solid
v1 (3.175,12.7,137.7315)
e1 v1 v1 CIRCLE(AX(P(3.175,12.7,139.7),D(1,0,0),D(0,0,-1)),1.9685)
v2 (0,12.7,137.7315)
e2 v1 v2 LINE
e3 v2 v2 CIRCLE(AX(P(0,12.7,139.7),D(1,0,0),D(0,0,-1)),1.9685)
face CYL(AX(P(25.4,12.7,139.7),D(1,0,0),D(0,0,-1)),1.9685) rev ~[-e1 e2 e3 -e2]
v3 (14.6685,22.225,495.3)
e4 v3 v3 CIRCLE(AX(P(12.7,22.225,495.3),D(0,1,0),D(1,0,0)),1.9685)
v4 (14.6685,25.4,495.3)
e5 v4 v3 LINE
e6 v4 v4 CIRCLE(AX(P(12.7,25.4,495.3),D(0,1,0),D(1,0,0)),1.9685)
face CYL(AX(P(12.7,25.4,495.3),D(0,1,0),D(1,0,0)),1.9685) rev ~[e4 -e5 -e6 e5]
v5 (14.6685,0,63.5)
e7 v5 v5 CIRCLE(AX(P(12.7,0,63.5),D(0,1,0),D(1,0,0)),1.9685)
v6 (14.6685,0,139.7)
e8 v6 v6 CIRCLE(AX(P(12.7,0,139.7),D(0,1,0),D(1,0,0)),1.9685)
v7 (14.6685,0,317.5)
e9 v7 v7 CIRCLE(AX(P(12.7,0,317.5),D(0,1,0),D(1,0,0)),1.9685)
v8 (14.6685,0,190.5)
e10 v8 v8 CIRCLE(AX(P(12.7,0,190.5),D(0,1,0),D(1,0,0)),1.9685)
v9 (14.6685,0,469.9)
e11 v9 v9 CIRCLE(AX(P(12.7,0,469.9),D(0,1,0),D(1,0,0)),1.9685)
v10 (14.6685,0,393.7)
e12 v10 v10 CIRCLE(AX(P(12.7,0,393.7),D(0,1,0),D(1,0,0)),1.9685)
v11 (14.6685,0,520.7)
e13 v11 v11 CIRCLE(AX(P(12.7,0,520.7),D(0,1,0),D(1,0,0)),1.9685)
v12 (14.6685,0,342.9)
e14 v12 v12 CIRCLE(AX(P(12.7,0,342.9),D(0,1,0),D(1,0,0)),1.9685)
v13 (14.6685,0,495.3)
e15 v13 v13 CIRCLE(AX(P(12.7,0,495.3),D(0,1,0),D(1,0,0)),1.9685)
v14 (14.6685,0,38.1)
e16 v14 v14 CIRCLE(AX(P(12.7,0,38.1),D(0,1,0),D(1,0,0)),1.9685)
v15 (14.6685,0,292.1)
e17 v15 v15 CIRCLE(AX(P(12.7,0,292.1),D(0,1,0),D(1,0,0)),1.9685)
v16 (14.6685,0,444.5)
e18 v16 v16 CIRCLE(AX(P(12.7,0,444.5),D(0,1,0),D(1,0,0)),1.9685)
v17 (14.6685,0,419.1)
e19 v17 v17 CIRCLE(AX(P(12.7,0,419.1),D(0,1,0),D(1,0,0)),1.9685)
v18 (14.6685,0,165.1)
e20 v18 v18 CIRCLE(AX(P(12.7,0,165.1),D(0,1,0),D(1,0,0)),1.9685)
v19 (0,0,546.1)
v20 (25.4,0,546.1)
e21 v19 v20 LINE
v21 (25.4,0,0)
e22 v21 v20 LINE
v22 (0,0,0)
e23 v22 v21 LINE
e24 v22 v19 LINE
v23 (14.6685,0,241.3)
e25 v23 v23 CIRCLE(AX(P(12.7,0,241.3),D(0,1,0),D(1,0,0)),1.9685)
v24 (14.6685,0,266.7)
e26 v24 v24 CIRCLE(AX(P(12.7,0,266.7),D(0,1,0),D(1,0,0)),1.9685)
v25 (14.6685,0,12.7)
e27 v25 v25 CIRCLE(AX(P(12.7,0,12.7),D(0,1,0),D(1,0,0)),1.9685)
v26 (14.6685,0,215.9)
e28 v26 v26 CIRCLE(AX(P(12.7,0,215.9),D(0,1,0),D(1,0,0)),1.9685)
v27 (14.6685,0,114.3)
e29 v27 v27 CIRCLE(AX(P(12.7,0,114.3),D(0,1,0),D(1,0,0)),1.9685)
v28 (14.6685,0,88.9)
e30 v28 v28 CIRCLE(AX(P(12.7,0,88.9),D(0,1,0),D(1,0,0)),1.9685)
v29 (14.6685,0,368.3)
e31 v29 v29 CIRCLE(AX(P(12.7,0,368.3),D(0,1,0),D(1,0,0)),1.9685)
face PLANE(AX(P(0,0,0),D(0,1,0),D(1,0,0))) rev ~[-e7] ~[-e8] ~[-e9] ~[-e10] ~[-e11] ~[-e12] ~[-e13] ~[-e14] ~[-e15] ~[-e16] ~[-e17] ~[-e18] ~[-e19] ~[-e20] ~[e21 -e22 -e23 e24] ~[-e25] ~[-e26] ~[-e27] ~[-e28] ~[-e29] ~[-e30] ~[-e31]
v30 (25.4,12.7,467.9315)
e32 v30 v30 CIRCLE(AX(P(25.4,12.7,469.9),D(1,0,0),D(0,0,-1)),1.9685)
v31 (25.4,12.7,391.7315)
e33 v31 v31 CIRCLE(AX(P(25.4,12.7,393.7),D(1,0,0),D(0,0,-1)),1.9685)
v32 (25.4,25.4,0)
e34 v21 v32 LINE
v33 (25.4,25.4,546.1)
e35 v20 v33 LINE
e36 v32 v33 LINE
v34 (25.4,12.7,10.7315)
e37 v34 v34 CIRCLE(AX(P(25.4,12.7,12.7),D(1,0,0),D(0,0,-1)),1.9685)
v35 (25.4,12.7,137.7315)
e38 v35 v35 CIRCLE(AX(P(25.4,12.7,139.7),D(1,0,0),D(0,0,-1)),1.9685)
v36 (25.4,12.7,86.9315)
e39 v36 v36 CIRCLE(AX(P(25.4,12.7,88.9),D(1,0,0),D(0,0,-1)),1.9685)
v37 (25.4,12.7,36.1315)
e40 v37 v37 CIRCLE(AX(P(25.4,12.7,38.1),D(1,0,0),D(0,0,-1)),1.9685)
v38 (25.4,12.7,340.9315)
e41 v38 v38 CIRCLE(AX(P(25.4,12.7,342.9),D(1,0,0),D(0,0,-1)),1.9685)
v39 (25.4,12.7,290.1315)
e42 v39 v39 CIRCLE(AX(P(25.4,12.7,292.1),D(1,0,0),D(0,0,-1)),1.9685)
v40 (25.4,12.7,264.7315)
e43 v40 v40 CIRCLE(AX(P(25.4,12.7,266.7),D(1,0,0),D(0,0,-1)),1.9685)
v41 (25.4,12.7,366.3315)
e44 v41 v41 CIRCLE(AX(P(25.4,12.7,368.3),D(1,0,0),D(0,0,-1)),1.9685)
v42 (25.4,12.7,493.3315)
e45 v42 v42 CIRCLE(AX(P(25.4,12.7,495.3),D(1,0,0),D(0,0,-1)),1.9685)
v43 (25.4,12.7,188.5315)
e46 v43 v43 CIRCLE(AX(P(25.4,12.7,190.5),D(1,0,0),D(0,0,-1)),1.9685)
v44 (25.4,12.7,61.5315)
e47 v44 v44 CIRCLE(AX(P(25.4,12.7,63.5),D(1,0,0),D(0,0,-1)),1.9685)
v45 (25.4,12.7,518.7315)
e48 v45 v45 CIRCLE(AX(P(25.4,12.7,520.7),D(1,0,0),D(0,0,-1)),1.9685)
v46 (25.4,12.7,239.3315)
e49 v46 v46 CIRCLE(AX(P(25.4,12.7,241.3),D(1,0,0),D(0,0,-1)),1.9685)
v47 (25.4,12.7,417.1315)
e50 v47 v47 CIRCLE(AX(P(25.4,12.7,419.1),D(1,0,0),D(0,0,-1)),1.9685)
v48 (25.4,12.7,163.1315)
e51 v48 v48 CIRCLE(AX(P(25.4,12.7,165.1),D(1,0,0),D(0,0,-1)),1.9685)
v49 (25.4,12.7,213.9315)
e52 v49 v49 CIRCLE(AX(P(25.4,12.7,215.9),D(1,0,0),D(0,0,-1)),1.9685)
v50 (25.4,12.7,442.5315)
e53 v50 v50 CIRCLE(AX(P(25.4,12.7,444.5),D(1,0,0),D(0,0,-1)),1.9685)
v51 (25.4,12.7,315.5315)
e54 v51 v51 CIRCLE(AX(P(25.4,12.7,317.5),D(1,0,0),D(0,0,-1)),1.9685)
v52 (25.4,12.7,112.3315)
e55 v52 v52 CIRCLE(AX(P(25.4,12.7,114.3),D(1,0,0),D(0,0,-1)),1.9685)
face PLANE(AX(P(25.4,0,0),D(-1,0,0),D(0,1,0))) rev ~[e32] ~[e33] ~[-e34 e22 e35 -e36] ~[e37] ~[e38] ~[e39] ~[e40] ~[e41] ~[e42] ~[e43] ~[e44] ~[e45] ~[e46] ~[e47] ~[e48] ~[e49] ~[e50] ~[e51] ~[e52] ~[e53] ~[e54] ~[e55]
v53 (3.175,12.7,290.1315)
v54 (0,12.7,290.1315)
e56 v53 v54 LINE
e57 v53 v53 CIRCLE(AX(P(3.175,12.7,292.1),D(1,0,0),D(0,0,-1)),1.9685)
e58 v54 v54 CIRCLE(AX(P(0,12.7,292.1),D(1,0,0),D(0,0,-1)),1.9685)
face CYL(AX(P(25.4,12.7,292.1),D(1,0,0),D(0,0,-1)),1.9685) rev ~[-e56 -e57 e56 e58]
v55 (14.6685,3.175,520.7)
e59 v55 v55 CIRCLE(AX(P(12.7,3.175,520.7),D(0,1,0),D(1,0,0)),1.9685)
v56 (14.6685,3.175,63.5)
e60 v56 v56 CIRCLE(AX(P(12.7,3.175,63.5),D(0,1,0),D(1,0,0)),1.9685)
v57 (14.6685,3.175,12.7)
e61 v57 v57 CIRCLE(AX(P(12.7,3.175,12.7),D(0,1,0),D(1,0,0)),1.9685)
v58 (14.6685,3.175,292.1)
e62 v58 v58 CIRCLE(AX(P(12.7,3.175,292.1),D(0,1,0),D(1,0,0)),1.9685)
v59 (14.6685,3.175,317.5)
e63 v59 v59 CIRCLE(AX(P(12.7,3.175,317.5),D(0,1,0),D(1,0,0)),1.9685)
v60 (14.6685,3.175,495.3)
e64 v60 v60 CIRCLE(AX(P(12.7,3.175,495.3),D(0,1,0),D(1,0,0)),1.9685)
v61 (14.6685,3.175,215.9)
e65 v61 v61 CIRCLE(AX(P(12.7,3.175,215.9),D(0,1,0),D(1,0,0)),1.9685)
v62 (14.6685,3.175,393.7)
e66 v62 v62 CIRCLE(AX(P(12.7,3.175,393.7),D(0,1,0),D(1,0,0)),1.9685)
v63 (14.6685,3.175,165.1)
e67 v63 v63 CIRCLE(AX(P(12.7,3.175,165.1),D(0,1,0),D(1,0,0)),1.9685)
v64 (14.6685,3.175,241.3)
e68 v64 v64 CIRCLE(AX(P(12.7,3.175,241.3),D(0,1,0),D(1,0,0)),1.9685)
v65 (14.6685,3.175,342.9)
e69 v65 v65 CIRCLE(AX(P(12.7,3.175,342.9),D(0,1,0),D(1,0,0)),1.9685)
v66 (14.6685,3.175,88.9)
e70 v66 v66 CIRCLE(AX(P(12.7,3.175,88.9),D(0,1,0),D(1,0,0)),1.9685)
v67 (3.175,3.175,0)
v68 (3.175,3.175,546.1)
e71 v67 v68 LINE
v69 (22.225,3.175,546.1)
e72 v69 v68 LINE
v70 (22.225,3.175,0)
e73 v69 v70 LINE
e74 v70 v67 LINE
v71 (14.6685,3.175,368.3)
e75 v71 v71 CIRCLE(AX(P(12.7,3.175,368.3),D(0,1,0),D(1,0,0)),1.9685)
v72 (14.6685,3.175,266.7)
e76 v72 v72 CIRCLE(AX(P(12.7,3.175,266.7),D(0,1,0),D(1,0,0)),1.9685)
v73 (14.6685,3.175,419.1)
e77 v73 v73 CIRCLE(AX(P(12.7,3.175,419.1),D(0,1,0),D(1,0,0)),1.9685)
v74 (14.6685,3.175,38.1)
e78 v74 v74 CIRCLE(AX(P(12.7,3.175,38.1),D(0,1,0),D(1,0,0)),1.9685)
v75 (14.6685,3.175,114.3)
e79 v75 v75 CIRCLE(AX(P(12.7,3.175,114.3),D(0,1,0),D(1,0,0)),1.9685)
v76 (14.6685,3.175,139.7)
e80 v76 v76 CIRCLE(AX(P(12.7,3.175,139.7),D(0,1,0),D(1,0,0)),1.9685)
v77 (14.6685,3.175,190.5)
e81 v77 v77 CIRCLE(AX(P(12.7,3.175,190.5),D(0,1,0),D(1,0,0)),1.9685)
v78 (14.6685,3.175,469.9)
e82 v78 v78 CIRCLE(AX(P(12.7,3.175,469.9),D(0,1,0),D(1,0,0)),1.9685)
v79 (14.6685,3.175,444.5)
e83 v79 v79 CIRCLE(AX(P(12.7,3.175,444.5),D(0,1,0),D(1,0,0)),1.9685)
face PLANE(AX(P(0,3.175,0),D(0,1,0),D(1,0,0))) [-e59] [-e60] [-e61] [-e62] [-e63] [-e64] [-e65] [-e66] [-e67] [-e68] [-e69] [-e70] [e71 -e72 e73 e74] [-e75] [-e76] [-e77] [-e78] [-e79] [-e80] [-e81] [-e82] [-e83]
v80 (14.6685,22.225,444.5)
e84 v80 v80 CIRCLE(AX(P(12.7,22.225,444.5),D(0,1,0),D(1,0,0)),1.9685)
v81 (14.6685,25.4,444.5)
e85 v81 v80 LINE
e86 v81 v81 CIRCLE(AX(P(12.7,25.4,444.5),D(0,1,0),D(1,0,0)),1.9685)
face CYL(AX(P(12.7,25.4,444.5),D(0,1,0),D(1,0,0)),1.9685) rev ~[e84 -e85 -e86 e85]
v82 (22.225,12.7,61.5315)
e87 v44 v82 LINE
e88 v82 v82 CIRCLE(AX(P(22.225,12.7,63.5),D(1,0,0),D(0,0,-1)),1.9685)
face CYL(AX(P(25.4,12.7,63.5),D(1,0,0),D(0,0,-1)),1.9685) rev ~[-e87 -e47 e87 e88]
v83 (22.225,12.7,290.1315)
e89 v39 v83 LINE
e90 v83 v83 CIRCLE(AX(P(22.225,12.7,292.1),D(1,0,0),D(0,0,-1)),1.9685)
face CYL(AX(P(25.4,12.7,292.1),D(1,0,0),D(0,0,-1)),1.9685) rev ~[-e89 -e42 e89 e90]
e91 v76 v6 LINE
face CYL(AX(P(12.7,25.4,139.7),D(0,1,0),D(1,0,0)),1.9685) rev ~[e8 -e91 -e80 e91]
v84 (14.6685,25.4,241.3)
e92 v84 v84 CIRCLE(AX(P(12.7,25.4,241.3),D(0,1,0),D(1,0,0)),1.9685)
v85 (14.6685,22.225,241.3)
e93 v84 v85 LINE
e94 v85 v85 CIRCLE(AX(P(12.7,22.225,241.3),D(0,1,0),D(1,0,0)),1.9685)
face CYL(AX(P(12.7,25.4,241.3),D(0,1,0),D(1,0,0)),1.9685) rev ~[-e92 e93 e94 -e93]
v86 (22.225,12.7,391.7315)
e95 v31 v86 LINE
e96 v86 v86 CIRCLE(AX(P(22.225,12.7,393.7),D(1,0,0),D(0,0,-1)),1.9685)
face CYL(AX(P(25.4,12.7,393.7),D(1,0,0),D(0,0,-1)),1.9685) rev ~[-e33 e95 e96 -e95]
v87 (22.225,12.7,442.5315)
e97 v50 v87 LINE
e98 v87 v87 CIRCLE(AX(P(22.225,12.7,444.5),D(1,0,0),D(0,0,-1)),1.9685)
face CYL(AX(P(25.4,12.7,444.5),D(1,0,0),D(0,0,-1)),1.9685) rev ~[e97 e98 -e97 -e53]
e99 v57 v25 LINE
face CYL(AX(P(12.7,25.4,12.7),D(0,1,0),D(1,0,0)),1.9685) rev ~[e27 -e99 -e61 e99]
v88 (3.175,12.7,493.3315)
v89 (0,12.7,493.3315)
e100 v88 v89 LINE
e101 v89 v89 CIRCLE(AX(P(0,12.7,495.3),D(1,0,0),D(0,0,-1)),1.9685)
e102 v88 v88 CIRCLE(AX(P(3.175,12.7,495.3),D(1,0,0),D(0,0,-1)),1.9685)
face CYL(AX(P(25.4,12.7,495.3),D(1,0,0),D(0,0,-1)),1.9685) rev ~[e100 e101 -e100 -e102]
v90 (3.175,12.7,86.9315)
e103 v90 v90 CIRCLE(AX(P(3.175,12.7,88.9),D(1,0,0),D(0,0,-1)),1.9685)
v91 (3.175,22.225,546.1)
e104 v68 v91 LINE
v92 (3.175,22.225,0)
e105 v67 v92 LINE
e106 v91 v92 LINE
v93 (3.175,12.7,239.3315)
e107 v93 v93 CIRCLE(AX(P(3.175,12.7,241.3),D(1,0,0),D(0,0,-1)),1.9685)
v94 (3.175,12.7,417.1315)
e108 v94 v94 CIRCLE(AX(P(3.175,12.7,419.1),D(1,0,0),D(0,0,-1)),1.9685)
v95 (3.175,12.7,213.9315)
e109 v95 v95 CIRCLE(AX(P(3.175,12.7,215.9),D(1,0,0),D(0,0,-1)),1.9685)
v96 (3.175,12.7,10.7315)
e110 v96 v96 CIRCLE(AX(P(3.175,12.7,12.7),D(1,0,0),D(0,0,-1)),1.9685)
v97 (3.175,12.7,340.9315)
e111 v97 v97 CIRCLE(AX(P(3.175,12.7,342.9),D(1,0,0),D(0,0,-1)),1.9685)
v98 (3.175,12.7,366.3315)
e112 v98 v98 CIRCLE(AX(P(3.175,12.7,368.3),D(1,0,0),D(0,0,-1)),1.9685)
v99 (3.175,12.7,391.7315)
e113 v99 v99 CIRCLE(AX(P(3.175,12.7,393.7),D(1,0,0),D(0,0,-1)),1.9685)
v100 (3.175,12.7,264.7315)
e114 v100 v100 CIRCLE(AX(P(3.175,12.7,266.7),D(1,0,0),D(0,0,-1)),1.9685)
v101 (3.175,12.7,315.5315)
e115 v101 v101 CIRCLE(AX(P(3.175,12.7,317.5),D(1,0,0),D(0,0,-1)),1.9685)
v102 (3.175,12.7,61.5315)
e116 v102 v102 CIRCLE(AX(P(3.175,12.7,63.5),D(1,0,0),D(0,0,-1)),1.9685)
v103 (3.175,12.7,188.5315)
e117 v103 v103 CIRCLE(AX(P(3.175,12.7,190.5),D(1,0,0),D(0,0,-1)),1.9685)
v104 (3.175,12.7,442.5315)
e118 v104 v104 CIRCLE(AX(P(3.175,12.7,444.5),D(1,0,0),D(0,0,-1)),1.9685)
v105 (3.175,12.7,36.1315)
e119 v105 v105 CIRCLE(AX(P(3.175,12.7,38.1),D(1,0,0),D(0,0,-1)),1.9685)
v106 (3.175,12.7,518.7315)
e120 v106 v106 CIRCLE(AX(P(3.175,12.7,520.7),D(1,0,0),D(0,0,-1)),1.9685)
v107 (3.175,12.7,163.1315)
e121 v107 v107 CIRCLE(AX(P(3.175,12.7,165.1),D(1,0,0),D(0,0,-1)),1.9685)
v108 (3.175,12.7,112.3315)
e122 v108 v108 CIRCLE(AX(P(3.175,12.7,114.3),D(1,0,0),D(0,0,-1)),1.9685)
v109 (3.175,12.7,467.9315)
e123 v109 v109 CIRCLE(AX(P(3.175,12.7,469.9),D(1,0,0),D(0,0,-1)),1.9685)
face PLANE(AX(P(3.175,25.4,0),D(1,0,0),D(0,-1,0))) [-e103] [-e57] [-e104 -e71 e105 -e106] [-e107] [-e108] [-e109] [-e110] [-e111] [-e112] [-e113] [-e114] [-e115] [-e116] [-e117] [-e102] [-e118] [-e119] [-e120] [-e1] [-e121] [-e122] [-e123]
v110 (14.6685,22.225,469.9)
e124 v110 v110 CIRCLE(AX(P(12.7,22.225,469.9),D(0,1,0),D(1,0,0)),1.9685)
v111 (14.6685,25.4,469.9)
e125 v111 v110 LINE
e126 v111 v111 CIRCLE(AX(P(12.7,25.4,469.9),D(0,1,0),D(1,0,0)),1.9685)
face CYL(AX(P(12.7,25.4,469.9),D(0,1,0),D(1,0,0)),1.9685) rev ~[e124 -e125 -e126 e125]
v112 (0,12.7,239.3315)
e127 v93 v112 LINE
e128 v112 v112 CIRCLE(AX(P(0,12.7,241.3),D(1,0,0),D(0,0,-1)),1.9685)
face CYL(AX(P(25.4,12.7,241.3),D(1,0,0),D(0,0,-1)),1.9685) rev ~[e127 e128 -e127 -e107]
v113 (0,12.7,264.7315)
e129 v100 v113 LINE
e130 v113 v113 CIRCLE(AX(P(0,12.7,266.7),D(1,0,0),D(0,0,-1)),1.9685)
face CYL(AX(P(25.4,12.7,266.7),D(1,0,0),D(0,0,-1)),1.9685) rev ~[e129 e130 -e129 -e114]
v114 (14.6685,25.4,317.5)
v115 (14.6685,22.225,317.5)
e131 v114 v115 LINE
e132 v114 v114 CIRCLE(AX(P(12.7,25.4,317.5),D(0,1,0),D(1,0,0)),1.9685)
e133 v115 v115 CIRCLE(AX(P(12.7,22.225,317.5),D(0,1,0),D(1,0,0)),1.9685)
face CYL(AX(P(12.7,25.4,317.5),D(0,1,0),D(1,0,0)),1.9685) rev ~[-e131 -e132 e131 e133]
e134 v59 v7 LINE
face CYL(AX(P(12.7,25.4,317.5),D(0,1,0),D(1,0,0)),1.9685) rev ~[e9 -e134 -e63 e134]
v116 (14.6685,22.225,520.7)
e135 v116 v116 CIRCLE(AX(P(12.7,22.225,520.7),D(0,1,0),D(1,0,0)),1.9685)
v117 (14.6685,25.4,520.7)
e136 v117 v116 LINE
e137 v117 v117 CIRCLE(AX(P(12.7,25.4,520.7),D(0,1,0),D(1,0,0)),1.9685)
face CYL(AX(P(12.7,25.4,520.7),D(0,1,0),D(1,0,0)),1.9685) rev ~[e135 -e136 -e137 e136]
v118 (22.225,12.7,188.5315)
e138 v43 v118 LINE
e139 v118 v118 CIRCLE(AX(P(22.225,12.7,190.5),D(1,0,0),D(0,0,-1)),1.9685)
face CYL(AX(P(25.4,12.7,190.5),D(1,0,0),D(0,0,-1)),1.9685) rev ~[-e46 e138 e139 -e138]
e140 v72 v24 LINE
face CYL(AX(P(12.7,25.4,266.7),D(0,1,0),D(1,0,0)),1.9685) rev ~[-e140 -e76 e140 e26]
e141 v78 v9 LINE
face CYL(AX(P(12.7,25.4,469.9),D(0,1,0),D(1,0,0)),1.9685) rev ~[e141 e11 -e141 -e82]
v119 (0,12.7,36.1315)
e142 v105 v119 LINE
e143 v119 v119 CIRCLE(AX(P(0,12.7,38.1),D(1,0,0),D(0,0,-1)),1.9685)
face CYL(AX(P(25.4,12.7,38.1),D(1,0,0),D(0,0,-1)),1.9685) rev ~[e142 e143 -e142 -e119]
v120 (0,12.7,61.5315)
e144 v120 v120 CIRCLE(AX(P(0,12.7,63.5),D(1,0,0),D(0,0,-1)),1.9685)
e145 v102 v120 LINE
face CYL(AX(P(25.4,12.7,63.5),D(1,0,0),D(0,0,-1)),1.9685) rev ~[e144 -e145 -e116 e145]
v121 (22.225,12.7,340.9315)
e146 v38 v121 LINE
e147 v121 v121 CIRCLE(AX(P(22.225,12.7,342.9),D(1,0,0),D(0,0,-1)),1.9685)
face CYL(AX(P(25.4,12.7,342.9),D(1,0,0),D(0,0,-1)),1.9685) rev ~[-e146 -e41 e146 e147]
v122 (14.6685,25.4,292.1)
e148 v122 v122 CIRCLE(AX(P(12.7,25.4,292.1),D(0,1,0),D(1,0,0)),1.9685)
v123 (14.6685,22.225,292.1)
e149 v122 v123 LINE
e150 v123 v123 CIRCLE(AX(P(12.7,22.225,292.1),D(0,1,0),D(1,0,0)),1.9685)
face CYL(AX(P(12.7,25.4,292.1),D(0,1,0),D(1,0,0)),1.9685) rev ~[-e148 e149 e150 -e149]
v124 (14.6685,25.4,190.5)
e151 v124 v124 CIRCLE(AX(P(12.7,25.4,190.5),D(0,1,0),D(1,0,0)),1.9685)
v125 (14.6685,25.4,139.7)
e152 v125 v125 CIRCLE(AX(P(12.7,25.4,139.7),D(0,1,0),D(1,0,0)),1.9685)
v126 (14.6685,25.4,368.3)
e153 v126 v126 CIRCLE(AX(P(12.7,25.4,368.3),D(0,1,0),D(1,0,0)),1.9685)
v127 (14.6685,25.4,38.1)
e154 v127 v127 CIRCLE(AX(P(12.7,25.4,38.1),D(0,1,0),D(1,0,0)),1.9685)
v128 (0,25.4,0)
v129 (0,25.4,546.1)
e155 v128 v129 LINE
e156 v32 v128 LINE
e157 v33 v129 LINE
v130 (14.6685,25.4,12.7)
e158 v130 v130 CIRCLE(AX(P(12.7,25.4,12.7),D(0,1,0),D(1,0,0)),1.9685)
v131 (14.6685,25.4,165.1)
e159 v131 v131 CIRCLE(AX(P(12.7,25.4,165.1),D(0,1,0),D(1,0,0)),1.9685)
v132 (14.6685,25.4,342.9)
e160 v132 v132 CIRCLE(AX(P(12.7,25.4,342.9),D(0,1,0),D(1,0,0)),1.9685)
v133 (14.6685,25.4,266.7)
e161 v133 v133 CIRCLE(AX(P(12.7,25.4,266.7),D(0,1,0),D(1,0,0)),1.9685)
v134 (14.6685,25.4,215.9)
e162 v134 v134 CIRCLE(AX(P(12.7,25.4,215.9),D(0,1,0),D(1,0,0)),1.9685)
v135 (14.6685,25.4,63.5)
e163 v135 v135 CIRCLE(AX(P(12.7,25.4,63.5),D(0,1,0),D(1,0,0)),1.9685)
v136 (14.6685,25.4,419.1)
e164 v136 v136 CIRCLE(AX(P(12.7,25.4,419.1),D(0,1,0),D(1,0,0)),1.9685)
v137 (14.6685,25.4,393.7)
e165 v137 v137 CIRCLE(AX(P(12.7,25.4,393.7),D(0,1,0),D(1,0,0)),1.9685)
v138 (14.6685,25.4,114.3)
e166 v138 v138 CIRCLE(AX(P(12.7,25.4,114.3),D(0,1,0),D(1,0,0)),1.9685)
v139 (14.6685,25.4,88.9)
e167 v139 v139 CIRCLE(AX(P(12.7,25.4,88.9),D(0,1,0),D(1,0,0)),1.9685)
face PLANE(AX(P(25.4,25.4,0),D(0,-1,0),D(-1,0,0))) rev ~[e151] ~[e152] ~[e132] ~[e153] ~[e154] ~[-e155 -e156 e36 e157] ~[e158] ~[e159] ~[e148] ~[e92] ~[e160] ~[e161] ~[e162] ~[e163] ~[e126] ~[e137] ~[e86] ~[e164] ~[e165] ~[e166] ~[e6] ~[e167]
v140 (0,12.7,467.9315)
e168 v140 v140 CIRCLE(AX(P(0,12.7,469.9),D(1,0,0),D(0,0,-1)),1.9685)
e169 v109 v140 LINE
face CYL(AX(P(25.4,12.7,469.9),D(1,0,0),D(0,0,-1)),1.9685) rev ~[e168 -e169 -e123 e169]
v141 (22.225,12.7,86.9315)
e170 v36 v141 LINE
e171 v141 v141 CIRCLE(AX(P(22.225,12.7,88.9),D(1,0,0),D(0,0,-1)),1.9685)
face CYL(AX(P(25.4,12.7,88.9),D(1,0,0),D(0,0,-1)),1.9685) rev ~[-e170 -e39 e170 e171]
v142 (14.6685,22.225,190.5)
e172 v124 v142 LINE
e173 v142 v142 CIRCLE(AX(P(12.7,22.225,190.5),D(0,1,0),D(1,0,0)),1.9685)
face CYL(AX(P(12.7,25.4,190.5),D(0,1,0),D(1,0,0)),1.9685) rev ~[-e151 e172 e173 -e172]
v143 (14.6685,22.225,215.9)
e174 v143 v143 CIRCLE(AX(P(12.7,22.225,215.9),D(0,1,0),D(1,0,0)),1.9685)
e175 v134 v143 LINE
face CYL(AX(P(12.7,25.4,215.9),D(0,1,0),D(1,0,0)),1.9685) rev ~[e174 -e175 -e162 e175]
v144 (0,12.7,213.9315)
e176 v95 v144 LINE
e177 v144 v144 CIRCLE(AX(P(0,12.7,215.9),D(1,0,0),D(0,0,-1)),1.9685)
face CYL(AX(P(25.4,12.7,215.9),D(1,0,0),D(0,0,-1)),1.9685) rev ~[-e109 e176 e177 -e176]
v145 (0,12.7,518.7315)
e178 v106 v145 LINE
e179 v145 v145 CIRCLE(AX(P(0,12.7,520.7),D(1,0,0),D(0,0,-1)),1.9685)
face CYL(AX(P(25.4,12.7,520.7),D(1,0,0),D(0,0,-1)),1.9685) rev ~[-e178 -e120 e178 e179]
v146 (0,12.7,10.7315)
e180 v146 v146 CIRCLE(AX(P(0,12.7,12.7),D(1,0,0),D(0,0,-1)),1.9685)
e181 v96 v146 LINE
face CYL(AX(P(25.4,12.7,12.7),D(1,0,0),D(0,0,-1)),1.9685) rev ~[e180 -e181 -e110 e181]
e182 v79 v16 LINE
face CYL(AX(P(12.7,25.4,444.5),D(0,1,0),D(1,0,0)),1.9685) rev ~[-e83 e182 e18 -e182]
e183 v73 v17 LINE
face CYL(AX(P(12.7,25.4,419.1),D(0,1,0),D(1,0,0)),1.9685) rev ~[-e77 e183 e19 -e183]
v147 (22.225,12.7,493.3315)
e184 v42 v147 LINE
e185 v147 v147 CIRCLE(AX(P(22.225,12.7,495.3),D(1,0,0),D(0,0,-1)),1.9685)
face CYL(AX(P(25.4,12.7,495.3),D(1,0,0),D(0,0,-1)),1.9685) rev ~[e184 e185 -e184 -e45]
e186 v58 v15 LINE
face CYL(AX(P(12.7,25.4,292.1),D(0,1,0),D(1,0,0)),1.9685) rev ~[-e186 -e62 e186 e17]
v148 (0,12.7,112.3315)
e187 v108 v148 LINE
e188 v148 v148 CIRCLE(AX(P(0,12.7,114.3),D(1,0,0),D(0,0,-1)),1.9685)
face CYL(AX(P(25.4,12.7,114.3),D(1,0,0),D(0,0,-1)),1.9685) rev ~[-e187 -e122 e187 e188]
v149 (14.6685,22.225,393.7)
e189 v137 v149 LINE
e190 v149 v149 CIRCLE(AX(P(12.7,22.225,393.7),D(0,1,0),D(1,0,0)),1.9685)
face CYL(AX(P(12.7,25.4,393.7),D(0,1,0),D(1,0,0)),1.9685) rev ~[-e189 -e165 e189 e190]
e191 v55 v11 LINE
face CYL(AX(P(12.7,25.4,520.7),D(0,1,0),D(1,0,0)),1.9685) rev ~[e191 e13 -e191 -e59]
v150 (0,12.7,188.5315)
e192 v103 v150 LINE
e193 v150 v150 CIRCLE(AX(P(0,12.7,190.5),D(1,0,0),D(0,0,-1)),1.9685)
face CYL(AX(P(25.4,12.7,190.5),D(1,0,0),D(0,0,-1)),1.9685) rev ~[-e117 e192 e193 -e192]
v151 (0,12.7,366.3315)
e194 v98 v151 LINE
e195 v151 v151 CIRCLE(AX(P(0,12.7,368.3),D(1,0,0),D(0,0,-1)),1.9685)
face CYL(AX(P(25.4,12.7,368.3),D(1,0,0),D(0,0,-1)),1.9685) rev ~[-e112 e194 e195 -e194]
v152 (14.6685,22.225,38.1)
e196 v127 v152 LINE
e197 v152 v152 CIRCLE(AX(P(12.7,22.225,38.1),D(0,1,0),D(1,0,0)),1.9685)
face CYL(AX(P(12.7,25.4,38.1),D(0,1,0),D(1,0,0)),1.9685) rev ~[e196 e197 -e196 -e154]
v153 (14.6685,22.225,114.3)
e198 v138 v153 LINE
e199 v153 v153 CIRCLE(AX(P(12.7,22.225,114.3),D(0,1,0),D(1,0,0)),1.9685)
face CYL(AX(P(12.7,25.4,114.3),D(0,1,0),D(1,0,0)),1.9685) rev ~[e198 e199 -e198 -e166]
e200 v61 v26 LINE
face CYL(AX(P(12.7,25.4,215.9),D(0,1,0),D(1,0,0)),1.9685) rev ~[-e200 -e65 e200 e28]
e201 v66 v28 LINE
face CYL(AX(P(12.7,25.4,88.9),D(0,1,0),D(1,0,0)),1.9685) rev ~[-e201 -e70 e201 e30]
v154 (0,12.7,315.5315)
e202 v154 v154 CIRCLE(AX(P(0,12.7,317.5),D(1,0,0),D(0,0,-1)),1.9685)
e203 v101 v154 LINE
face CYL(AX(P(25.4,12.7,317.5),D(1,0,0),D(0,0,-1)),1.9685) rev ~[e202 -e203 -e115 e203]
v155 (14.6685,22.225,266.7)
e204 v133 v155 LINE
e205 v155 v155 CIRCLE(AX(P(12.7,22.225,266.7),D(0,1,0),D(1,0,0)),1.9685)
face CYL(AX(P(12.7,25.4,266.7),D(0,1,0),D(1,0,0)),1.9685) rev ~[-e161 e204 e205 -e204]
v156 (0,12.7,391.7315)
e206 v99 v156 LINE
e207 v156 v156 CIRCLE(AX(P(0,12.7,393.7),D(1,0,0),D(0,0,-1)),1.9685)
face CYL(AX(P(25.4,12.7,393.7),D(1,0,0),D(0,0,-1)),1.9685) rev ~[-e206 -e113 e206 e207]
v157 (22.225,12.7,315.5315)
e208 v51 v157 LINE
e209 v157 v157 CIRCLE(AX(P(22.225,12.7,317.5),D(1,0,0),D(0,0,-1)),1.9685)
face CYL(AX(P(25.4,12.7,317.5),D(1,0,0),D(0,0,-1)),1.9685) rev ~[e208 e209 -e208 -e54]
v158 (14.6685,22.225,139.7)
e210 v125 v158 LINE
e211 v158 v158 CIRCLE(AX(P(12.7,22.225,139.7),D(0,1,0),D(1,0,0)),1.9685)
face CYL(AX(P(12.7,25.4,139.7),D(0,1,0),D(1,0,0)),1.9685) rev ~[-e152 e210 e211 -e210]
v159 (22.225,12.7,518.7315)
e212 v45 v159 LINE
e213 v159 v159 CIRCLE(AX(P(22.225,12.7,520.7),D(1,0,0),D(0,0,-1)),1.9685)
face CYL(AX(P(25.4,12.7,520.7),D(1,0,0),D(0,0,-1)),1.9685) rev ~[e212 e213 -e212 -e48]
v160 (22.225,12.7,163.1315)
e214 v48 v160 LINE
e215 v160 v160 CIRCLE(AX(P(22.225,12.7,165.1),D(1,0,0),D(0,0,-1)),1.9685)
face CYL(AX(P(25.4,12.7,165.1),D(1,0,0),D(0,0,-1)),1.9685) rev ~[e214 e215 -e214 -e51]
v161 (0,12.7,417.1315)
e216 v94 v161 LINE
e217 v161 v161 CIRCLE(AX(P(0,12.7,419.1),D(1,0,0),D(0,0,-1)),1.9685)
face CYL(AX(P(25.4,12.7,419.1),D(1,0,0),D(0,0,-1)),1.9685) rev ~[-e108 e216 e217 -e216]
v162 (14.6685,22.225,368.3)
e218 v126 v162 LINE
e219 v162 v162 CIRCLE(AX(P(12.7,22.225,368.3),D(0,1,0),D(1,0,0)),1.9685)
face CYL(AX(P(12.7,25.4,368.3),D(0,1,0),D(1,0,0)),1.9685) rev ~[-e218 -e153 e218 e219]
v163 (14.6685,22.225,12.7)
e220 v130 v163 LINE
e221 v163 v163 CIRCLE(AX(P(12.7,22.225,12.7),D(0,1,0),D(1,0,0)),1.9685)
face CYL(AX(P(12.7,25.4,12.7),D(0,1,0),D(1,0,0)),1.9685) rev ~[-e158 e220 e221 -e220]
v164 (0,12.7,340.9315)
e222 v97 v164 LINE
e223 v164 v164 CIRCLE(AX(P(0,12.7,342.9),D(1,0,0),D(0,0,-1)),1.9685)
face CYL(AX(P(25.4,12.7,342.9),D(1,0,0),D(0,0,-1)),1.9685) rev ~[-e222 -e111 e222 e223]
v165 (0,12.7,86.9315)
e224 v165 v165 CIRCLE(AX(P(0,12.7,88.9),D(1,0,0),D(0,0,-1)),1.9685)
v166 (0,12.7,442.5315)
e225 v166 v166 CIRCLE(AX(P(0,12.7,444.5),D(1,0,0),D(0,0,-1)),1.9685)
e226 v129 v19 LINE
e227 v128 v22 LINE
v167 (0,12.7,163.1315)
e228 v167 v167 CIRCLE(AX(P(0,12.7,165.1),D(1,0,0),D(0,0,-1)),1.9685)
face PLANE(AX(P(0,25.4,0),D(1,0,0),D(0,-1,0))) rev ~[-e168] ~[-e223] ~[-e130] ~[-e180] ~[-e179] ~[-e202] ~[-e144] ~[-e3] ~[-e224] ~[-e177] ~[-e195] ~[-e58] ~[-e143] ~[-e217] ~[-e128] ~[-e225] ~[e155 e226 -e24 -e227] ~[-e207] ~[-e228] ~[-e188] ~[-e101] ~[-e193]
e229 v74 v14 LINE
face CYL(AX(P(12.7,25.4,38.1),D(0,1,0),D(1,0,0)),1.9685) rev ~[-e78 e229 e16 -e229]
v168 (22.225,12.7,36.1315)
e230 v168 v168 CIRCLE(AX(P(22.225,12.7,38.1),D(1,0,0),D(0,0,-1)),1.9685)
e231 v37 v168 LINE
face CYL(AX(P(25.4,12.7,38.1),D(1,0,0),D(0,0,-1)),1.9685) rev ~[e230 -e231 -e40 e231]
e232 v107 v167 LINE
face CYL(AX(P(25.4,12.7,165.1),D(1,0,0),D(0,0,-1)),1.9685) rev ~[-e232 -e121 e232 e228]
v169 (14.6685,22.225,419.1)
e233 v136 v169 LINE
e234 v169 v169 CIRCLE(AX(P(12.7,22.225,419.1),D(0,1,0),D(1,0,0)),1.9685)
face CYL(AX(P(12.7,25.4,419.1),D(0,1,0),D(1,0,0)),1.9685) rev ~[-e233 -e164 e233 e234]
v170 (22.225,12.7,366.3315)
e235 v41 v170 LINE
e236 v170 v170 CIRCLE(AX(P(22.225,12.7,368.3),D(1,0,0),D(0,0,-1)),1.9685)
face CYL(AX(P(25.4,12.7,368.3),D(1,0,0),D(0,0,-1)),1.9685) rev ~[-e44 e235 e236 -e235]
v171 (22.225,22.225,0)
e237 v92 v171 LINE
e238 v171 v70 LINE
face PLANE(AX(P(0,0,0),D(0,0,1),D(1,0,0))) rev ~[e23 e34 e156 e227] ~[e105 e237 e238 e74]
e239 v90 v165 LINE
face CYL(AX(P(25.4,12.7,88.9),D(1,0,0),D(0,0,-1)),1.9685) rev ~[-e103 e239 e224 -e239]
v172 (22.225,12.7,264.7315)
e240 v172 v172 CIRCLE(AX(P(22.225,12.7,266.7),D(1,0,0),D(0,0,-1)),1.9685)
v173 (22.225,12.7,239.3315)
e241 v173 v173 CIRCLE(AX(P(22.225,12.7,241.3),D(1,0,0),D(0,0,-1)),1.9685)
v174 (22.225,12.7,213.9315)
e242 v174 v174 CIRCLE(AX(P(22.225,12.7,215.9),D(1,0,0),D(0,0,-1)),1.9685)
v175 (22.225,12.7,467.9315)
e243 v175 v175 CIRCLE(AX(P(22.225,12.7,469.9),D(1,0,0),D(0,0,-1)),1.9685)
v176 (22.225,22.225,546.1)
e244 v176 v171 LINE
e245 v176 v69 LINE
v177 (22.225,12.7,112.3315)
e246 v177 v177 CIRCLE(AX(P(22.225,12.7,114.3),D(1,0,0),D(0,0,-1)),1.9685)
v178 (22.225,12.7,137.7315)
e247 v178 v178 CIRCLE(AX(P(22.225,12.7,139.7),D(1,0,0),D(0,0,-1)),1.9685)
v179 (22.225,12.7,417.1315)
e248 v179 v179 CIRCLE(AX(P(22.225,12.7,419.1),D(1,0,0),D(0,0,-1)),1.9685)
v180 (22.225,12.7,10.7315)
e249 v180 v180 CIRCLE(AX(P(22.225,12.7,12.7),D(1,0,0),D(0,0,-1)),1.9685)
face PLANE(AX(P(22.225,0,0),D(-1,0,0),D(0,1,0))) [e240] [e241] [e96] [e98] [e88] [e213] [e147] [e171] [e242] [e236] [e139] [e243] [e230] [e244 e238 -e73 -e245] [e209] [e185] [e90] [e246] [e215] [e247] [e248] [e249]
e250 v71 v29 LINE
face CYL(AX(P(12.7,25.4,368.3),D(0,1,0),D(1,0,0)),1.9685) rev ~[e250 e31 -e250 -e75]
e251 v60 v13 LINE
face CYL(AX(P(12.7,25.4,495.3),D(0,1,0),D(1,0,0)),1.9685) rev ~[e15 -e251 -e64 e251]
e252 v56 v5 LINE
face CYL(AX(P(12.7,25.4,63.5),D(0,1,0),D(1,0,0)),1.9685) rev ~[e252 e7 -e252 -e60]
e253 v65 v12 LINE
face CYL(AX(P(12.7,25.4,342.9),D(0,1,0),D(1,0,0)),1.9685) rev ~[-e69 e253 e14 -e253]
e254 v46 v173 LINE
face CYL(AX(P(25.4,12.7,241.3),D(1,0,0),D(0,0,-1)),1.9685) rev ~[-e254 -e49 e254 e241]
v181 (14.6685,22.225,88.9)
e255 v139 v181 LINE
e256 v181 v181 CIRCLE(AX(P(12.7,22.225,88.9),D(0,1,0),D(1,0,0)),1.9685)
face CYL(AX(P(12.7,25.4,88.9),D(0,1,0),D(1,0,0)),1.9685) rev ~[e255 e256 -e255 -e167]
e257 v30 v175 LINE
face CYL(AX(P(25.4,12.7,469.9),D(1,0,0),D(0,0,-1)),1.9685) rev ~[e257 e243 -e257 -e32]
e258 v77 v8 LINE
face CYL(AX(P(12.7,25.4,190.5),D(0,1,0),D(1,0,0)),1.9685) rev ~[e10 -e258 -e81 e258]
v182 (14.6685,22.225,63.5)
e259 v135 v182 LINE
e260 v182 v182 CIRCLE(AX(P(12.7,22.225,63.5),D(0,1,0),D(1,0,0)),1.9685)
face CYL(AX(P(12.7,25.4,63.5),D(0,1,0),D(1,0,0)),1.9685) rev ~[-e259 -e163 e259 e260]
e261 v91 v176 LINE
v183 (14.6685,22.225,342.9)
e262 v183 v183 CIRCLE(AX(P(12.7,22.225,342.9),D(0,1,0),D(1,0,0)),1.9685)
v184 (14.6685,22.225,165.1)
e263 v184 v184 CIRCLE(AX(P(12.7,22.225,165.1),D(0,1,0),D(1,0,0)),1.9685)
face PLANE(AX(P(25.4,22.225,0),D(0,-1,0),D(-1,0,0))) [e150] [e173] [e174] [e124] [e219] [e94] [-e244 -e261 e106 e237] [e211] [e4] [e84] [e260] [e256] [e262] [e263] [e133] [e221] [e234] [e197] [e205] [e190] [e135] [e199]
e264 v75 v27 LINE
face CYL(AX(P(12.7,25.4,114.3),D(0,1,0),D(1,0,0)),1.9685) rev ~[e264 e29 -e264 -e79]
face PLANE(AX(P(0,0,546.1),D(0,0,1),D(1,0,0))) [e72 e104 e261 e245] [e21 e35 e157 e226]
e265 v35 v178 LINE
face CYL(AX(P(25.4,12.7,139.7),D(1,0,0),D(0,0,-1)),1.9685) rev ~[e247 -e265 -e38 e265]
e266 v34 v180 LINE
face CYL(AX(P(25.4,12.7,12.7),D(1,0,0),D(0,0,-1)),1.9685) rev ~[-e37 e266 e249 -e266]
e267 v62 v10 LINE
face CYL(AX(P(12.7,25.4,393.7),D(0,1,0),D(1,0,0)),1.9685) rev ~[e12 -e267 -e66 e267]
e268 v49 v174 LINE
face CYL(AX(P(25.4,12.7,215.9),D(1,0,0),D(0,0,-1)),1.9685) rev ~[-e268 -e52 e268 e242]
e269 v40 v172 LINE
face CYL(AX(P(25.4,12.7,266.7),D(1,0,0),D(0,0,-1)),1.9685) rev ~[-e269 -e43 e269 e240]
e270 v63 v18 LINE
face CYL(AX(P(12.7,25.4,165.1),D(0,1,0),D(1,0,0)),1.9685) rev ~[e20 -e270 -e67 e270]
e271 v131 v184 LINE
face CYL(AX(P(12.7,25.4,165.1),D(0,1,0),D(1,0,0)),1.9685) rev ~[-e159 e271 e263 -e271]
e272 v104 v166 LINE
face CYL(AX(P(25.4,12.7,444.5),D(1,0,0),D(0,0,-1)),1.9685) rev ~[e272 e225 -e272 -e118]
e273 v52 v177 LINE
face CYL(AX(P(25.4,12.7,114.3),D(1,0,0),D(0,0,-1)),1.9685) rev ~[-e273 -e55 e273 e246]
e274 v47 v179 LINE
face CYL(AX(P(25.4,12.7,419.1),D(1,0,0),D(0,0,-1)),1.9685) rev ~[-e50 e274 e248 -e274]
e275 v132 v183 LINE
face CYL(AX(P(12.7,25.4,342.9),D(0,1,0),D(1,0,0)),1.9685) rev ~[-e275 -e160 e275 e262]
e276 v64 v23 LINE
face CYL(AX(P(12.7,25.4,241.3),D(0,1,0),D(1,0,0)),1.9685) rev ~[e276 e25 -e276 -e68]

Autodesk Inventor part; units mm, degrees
ref_plane "YZ Plane" through (0, 0, 0) normal (1, 0, 0) x (0, 1, 0)
ref_plane "XZ Plane" through (0, 0, 0) normal (0, 1, 0) x (-1, 0, 0)
ref_plane "XY Plane" through (0, 0, 0) normal (0, 0, 1) x (1, 0, 0)
sketch "Sketch1" plane through (0, 0, 0) normal (0, 0, 1) x (1, 0, 0)
  line L0 (0, 0) -> (25.4, 0)
  line L1 (25.4, 0) -> (25.4, 25.4)
  line L2 (25.4, 25.4) -> (0, 25.4)
  line L3 (0, 25.4) -> (0, 0)
  dimension "d0" = 25.4
  dimension "d1" = 25.4
extrude "Extrusion1" add sketch "Sketch1" along normal blind 546.1
shell "Shell1" thickness 3.175 removed faces 2 at (8.4667, 16.9333, 0) at (8.4667, 16.9333, 546.1)
sketch "Sketch2" plane through (25.4, 0, 0) normal (1, 0, 0) x (0, 0, -1)
  circle A0 centre (-12.7, 12.7) radius 1.9685
  line L0 (0, 25.4) -> (-546.1, 25.4) projected
  line L1 (0, 0) -> (0, 25.4) projected
  circle A1 centre (-38.1, 12.7) radius 1.9685
  circle A2 centre (-63.5, 12.7) radius 1.9685
  circle A3 centre (-88.9, 12.7) radius 1.9685
  circle A4 centre (-114.3, 12.7) radius 1.9685
  circle A5 centre (-139.7, 12.7) radius 1.9685
  circle A6 centre (-165.1, 12.7) radius 1.9685
  circle A7 centre (-190.5, 12.7) radius 1.9685
  circle A8 centre (-215.9, 12.7) radius 1.9685
  circle A9 centre (-241.3, 12.7) radius 1.9685
  circle A10 centre (-266.7, 12.7) radius 1.9685
  circle A11 centre (-292.1, 12.7) radius 1.9685
  circle A12 centre (-317.5, 12.7) radius 1.9685
  circle A13 centre (-342.9, 12.7) radius 1.9685
  circle A14 centre (-368.3, 12.7) radius 1.9685
  circle A15 centre (-393.7, 12.7) radius 1.9685
  circle A16 centre (-419.1, 12.7) radius 1.9685
  circle A17 centre (-444.5, 12.7) radius 1.9685
  circle A18 centre (-469.9, 12.7) radius 1.9685
  circle A19 centre (-495.3, 12.7) radius 1.9685
  circle A20 centre (-520.7, 12.7) radius 1.9685
  dimension "d5" = 3.937
  dimension "d6" = 12.7
  dimension "d7" = 12.7
  dimension "d10" = 25.4
extrude "Extrusion2" cut sketch "Sketch2" against normal blind 542.925
sketch "Sketch3" plane through (0, 25.4, 0) normal (0, 1, 0) x (1, 0, 0)
  circle A0 centre (12.7, -12.7) radius 1.9685
  line L0 (0, 0) -> (0, -546.1) projected
  line L1 (25.4, 0) -> (0, 0) projected
  circle A1 centre (12.7, -38.1) radius 1.9685
  circle A2 centre (12.7, -63.5) radius 1.9685
  circle A3 centre (12.7, -88.9) radius 1.9685
  circle A4 centre (12.7, -114.3) radius 1.9685
  circle A5 centre (12.7, -139.7) radius 1.9685
  circle A6 centre (12.7, -165.1) radius 1.9685
  circle A7 centre (12.7, -190.5) radius 1.9685
  circle A8 centre (12.7, -215.9) radius 1.9685
  circle A9 centre (12.7, -241.3) radius 1.9685
  circle A10 centre (12.7, -266.7) radius 1.9685
  circle A11 centre (12.7, -292.1) radius 1.9685
  circle A12 centre (12.7, -317.5) radius 1.9685
  circle A13 centre (12.7, -342.9) radius 1.9685
  circle A14 centre (12.7, -368.3) radius 1.9685
  circle A15 centre (12.7, -393.7) radius 1.9685
  circle A16 centre (12.7, -419.1) radius 1.9685
  circle A17 centre (12.7, -444.5) radius 1.9685
  circle A18 centre (12.7, -469.9) radius 1.9685
  circle A19 centre (12.7, -495.3) radius 1.9685
  circle A20 centre (12.7, -520.7) radius 1.9685
  dimension "d17" = 3.937
  dimension "d18" = 12.7
  dimension "d19" = 12.7
  dimension "d22" = 25.4
extrude "Extrusion3" cut sketch "Sketch3" against normal blind 542.925
properties part number "Kermit Frame 11"
